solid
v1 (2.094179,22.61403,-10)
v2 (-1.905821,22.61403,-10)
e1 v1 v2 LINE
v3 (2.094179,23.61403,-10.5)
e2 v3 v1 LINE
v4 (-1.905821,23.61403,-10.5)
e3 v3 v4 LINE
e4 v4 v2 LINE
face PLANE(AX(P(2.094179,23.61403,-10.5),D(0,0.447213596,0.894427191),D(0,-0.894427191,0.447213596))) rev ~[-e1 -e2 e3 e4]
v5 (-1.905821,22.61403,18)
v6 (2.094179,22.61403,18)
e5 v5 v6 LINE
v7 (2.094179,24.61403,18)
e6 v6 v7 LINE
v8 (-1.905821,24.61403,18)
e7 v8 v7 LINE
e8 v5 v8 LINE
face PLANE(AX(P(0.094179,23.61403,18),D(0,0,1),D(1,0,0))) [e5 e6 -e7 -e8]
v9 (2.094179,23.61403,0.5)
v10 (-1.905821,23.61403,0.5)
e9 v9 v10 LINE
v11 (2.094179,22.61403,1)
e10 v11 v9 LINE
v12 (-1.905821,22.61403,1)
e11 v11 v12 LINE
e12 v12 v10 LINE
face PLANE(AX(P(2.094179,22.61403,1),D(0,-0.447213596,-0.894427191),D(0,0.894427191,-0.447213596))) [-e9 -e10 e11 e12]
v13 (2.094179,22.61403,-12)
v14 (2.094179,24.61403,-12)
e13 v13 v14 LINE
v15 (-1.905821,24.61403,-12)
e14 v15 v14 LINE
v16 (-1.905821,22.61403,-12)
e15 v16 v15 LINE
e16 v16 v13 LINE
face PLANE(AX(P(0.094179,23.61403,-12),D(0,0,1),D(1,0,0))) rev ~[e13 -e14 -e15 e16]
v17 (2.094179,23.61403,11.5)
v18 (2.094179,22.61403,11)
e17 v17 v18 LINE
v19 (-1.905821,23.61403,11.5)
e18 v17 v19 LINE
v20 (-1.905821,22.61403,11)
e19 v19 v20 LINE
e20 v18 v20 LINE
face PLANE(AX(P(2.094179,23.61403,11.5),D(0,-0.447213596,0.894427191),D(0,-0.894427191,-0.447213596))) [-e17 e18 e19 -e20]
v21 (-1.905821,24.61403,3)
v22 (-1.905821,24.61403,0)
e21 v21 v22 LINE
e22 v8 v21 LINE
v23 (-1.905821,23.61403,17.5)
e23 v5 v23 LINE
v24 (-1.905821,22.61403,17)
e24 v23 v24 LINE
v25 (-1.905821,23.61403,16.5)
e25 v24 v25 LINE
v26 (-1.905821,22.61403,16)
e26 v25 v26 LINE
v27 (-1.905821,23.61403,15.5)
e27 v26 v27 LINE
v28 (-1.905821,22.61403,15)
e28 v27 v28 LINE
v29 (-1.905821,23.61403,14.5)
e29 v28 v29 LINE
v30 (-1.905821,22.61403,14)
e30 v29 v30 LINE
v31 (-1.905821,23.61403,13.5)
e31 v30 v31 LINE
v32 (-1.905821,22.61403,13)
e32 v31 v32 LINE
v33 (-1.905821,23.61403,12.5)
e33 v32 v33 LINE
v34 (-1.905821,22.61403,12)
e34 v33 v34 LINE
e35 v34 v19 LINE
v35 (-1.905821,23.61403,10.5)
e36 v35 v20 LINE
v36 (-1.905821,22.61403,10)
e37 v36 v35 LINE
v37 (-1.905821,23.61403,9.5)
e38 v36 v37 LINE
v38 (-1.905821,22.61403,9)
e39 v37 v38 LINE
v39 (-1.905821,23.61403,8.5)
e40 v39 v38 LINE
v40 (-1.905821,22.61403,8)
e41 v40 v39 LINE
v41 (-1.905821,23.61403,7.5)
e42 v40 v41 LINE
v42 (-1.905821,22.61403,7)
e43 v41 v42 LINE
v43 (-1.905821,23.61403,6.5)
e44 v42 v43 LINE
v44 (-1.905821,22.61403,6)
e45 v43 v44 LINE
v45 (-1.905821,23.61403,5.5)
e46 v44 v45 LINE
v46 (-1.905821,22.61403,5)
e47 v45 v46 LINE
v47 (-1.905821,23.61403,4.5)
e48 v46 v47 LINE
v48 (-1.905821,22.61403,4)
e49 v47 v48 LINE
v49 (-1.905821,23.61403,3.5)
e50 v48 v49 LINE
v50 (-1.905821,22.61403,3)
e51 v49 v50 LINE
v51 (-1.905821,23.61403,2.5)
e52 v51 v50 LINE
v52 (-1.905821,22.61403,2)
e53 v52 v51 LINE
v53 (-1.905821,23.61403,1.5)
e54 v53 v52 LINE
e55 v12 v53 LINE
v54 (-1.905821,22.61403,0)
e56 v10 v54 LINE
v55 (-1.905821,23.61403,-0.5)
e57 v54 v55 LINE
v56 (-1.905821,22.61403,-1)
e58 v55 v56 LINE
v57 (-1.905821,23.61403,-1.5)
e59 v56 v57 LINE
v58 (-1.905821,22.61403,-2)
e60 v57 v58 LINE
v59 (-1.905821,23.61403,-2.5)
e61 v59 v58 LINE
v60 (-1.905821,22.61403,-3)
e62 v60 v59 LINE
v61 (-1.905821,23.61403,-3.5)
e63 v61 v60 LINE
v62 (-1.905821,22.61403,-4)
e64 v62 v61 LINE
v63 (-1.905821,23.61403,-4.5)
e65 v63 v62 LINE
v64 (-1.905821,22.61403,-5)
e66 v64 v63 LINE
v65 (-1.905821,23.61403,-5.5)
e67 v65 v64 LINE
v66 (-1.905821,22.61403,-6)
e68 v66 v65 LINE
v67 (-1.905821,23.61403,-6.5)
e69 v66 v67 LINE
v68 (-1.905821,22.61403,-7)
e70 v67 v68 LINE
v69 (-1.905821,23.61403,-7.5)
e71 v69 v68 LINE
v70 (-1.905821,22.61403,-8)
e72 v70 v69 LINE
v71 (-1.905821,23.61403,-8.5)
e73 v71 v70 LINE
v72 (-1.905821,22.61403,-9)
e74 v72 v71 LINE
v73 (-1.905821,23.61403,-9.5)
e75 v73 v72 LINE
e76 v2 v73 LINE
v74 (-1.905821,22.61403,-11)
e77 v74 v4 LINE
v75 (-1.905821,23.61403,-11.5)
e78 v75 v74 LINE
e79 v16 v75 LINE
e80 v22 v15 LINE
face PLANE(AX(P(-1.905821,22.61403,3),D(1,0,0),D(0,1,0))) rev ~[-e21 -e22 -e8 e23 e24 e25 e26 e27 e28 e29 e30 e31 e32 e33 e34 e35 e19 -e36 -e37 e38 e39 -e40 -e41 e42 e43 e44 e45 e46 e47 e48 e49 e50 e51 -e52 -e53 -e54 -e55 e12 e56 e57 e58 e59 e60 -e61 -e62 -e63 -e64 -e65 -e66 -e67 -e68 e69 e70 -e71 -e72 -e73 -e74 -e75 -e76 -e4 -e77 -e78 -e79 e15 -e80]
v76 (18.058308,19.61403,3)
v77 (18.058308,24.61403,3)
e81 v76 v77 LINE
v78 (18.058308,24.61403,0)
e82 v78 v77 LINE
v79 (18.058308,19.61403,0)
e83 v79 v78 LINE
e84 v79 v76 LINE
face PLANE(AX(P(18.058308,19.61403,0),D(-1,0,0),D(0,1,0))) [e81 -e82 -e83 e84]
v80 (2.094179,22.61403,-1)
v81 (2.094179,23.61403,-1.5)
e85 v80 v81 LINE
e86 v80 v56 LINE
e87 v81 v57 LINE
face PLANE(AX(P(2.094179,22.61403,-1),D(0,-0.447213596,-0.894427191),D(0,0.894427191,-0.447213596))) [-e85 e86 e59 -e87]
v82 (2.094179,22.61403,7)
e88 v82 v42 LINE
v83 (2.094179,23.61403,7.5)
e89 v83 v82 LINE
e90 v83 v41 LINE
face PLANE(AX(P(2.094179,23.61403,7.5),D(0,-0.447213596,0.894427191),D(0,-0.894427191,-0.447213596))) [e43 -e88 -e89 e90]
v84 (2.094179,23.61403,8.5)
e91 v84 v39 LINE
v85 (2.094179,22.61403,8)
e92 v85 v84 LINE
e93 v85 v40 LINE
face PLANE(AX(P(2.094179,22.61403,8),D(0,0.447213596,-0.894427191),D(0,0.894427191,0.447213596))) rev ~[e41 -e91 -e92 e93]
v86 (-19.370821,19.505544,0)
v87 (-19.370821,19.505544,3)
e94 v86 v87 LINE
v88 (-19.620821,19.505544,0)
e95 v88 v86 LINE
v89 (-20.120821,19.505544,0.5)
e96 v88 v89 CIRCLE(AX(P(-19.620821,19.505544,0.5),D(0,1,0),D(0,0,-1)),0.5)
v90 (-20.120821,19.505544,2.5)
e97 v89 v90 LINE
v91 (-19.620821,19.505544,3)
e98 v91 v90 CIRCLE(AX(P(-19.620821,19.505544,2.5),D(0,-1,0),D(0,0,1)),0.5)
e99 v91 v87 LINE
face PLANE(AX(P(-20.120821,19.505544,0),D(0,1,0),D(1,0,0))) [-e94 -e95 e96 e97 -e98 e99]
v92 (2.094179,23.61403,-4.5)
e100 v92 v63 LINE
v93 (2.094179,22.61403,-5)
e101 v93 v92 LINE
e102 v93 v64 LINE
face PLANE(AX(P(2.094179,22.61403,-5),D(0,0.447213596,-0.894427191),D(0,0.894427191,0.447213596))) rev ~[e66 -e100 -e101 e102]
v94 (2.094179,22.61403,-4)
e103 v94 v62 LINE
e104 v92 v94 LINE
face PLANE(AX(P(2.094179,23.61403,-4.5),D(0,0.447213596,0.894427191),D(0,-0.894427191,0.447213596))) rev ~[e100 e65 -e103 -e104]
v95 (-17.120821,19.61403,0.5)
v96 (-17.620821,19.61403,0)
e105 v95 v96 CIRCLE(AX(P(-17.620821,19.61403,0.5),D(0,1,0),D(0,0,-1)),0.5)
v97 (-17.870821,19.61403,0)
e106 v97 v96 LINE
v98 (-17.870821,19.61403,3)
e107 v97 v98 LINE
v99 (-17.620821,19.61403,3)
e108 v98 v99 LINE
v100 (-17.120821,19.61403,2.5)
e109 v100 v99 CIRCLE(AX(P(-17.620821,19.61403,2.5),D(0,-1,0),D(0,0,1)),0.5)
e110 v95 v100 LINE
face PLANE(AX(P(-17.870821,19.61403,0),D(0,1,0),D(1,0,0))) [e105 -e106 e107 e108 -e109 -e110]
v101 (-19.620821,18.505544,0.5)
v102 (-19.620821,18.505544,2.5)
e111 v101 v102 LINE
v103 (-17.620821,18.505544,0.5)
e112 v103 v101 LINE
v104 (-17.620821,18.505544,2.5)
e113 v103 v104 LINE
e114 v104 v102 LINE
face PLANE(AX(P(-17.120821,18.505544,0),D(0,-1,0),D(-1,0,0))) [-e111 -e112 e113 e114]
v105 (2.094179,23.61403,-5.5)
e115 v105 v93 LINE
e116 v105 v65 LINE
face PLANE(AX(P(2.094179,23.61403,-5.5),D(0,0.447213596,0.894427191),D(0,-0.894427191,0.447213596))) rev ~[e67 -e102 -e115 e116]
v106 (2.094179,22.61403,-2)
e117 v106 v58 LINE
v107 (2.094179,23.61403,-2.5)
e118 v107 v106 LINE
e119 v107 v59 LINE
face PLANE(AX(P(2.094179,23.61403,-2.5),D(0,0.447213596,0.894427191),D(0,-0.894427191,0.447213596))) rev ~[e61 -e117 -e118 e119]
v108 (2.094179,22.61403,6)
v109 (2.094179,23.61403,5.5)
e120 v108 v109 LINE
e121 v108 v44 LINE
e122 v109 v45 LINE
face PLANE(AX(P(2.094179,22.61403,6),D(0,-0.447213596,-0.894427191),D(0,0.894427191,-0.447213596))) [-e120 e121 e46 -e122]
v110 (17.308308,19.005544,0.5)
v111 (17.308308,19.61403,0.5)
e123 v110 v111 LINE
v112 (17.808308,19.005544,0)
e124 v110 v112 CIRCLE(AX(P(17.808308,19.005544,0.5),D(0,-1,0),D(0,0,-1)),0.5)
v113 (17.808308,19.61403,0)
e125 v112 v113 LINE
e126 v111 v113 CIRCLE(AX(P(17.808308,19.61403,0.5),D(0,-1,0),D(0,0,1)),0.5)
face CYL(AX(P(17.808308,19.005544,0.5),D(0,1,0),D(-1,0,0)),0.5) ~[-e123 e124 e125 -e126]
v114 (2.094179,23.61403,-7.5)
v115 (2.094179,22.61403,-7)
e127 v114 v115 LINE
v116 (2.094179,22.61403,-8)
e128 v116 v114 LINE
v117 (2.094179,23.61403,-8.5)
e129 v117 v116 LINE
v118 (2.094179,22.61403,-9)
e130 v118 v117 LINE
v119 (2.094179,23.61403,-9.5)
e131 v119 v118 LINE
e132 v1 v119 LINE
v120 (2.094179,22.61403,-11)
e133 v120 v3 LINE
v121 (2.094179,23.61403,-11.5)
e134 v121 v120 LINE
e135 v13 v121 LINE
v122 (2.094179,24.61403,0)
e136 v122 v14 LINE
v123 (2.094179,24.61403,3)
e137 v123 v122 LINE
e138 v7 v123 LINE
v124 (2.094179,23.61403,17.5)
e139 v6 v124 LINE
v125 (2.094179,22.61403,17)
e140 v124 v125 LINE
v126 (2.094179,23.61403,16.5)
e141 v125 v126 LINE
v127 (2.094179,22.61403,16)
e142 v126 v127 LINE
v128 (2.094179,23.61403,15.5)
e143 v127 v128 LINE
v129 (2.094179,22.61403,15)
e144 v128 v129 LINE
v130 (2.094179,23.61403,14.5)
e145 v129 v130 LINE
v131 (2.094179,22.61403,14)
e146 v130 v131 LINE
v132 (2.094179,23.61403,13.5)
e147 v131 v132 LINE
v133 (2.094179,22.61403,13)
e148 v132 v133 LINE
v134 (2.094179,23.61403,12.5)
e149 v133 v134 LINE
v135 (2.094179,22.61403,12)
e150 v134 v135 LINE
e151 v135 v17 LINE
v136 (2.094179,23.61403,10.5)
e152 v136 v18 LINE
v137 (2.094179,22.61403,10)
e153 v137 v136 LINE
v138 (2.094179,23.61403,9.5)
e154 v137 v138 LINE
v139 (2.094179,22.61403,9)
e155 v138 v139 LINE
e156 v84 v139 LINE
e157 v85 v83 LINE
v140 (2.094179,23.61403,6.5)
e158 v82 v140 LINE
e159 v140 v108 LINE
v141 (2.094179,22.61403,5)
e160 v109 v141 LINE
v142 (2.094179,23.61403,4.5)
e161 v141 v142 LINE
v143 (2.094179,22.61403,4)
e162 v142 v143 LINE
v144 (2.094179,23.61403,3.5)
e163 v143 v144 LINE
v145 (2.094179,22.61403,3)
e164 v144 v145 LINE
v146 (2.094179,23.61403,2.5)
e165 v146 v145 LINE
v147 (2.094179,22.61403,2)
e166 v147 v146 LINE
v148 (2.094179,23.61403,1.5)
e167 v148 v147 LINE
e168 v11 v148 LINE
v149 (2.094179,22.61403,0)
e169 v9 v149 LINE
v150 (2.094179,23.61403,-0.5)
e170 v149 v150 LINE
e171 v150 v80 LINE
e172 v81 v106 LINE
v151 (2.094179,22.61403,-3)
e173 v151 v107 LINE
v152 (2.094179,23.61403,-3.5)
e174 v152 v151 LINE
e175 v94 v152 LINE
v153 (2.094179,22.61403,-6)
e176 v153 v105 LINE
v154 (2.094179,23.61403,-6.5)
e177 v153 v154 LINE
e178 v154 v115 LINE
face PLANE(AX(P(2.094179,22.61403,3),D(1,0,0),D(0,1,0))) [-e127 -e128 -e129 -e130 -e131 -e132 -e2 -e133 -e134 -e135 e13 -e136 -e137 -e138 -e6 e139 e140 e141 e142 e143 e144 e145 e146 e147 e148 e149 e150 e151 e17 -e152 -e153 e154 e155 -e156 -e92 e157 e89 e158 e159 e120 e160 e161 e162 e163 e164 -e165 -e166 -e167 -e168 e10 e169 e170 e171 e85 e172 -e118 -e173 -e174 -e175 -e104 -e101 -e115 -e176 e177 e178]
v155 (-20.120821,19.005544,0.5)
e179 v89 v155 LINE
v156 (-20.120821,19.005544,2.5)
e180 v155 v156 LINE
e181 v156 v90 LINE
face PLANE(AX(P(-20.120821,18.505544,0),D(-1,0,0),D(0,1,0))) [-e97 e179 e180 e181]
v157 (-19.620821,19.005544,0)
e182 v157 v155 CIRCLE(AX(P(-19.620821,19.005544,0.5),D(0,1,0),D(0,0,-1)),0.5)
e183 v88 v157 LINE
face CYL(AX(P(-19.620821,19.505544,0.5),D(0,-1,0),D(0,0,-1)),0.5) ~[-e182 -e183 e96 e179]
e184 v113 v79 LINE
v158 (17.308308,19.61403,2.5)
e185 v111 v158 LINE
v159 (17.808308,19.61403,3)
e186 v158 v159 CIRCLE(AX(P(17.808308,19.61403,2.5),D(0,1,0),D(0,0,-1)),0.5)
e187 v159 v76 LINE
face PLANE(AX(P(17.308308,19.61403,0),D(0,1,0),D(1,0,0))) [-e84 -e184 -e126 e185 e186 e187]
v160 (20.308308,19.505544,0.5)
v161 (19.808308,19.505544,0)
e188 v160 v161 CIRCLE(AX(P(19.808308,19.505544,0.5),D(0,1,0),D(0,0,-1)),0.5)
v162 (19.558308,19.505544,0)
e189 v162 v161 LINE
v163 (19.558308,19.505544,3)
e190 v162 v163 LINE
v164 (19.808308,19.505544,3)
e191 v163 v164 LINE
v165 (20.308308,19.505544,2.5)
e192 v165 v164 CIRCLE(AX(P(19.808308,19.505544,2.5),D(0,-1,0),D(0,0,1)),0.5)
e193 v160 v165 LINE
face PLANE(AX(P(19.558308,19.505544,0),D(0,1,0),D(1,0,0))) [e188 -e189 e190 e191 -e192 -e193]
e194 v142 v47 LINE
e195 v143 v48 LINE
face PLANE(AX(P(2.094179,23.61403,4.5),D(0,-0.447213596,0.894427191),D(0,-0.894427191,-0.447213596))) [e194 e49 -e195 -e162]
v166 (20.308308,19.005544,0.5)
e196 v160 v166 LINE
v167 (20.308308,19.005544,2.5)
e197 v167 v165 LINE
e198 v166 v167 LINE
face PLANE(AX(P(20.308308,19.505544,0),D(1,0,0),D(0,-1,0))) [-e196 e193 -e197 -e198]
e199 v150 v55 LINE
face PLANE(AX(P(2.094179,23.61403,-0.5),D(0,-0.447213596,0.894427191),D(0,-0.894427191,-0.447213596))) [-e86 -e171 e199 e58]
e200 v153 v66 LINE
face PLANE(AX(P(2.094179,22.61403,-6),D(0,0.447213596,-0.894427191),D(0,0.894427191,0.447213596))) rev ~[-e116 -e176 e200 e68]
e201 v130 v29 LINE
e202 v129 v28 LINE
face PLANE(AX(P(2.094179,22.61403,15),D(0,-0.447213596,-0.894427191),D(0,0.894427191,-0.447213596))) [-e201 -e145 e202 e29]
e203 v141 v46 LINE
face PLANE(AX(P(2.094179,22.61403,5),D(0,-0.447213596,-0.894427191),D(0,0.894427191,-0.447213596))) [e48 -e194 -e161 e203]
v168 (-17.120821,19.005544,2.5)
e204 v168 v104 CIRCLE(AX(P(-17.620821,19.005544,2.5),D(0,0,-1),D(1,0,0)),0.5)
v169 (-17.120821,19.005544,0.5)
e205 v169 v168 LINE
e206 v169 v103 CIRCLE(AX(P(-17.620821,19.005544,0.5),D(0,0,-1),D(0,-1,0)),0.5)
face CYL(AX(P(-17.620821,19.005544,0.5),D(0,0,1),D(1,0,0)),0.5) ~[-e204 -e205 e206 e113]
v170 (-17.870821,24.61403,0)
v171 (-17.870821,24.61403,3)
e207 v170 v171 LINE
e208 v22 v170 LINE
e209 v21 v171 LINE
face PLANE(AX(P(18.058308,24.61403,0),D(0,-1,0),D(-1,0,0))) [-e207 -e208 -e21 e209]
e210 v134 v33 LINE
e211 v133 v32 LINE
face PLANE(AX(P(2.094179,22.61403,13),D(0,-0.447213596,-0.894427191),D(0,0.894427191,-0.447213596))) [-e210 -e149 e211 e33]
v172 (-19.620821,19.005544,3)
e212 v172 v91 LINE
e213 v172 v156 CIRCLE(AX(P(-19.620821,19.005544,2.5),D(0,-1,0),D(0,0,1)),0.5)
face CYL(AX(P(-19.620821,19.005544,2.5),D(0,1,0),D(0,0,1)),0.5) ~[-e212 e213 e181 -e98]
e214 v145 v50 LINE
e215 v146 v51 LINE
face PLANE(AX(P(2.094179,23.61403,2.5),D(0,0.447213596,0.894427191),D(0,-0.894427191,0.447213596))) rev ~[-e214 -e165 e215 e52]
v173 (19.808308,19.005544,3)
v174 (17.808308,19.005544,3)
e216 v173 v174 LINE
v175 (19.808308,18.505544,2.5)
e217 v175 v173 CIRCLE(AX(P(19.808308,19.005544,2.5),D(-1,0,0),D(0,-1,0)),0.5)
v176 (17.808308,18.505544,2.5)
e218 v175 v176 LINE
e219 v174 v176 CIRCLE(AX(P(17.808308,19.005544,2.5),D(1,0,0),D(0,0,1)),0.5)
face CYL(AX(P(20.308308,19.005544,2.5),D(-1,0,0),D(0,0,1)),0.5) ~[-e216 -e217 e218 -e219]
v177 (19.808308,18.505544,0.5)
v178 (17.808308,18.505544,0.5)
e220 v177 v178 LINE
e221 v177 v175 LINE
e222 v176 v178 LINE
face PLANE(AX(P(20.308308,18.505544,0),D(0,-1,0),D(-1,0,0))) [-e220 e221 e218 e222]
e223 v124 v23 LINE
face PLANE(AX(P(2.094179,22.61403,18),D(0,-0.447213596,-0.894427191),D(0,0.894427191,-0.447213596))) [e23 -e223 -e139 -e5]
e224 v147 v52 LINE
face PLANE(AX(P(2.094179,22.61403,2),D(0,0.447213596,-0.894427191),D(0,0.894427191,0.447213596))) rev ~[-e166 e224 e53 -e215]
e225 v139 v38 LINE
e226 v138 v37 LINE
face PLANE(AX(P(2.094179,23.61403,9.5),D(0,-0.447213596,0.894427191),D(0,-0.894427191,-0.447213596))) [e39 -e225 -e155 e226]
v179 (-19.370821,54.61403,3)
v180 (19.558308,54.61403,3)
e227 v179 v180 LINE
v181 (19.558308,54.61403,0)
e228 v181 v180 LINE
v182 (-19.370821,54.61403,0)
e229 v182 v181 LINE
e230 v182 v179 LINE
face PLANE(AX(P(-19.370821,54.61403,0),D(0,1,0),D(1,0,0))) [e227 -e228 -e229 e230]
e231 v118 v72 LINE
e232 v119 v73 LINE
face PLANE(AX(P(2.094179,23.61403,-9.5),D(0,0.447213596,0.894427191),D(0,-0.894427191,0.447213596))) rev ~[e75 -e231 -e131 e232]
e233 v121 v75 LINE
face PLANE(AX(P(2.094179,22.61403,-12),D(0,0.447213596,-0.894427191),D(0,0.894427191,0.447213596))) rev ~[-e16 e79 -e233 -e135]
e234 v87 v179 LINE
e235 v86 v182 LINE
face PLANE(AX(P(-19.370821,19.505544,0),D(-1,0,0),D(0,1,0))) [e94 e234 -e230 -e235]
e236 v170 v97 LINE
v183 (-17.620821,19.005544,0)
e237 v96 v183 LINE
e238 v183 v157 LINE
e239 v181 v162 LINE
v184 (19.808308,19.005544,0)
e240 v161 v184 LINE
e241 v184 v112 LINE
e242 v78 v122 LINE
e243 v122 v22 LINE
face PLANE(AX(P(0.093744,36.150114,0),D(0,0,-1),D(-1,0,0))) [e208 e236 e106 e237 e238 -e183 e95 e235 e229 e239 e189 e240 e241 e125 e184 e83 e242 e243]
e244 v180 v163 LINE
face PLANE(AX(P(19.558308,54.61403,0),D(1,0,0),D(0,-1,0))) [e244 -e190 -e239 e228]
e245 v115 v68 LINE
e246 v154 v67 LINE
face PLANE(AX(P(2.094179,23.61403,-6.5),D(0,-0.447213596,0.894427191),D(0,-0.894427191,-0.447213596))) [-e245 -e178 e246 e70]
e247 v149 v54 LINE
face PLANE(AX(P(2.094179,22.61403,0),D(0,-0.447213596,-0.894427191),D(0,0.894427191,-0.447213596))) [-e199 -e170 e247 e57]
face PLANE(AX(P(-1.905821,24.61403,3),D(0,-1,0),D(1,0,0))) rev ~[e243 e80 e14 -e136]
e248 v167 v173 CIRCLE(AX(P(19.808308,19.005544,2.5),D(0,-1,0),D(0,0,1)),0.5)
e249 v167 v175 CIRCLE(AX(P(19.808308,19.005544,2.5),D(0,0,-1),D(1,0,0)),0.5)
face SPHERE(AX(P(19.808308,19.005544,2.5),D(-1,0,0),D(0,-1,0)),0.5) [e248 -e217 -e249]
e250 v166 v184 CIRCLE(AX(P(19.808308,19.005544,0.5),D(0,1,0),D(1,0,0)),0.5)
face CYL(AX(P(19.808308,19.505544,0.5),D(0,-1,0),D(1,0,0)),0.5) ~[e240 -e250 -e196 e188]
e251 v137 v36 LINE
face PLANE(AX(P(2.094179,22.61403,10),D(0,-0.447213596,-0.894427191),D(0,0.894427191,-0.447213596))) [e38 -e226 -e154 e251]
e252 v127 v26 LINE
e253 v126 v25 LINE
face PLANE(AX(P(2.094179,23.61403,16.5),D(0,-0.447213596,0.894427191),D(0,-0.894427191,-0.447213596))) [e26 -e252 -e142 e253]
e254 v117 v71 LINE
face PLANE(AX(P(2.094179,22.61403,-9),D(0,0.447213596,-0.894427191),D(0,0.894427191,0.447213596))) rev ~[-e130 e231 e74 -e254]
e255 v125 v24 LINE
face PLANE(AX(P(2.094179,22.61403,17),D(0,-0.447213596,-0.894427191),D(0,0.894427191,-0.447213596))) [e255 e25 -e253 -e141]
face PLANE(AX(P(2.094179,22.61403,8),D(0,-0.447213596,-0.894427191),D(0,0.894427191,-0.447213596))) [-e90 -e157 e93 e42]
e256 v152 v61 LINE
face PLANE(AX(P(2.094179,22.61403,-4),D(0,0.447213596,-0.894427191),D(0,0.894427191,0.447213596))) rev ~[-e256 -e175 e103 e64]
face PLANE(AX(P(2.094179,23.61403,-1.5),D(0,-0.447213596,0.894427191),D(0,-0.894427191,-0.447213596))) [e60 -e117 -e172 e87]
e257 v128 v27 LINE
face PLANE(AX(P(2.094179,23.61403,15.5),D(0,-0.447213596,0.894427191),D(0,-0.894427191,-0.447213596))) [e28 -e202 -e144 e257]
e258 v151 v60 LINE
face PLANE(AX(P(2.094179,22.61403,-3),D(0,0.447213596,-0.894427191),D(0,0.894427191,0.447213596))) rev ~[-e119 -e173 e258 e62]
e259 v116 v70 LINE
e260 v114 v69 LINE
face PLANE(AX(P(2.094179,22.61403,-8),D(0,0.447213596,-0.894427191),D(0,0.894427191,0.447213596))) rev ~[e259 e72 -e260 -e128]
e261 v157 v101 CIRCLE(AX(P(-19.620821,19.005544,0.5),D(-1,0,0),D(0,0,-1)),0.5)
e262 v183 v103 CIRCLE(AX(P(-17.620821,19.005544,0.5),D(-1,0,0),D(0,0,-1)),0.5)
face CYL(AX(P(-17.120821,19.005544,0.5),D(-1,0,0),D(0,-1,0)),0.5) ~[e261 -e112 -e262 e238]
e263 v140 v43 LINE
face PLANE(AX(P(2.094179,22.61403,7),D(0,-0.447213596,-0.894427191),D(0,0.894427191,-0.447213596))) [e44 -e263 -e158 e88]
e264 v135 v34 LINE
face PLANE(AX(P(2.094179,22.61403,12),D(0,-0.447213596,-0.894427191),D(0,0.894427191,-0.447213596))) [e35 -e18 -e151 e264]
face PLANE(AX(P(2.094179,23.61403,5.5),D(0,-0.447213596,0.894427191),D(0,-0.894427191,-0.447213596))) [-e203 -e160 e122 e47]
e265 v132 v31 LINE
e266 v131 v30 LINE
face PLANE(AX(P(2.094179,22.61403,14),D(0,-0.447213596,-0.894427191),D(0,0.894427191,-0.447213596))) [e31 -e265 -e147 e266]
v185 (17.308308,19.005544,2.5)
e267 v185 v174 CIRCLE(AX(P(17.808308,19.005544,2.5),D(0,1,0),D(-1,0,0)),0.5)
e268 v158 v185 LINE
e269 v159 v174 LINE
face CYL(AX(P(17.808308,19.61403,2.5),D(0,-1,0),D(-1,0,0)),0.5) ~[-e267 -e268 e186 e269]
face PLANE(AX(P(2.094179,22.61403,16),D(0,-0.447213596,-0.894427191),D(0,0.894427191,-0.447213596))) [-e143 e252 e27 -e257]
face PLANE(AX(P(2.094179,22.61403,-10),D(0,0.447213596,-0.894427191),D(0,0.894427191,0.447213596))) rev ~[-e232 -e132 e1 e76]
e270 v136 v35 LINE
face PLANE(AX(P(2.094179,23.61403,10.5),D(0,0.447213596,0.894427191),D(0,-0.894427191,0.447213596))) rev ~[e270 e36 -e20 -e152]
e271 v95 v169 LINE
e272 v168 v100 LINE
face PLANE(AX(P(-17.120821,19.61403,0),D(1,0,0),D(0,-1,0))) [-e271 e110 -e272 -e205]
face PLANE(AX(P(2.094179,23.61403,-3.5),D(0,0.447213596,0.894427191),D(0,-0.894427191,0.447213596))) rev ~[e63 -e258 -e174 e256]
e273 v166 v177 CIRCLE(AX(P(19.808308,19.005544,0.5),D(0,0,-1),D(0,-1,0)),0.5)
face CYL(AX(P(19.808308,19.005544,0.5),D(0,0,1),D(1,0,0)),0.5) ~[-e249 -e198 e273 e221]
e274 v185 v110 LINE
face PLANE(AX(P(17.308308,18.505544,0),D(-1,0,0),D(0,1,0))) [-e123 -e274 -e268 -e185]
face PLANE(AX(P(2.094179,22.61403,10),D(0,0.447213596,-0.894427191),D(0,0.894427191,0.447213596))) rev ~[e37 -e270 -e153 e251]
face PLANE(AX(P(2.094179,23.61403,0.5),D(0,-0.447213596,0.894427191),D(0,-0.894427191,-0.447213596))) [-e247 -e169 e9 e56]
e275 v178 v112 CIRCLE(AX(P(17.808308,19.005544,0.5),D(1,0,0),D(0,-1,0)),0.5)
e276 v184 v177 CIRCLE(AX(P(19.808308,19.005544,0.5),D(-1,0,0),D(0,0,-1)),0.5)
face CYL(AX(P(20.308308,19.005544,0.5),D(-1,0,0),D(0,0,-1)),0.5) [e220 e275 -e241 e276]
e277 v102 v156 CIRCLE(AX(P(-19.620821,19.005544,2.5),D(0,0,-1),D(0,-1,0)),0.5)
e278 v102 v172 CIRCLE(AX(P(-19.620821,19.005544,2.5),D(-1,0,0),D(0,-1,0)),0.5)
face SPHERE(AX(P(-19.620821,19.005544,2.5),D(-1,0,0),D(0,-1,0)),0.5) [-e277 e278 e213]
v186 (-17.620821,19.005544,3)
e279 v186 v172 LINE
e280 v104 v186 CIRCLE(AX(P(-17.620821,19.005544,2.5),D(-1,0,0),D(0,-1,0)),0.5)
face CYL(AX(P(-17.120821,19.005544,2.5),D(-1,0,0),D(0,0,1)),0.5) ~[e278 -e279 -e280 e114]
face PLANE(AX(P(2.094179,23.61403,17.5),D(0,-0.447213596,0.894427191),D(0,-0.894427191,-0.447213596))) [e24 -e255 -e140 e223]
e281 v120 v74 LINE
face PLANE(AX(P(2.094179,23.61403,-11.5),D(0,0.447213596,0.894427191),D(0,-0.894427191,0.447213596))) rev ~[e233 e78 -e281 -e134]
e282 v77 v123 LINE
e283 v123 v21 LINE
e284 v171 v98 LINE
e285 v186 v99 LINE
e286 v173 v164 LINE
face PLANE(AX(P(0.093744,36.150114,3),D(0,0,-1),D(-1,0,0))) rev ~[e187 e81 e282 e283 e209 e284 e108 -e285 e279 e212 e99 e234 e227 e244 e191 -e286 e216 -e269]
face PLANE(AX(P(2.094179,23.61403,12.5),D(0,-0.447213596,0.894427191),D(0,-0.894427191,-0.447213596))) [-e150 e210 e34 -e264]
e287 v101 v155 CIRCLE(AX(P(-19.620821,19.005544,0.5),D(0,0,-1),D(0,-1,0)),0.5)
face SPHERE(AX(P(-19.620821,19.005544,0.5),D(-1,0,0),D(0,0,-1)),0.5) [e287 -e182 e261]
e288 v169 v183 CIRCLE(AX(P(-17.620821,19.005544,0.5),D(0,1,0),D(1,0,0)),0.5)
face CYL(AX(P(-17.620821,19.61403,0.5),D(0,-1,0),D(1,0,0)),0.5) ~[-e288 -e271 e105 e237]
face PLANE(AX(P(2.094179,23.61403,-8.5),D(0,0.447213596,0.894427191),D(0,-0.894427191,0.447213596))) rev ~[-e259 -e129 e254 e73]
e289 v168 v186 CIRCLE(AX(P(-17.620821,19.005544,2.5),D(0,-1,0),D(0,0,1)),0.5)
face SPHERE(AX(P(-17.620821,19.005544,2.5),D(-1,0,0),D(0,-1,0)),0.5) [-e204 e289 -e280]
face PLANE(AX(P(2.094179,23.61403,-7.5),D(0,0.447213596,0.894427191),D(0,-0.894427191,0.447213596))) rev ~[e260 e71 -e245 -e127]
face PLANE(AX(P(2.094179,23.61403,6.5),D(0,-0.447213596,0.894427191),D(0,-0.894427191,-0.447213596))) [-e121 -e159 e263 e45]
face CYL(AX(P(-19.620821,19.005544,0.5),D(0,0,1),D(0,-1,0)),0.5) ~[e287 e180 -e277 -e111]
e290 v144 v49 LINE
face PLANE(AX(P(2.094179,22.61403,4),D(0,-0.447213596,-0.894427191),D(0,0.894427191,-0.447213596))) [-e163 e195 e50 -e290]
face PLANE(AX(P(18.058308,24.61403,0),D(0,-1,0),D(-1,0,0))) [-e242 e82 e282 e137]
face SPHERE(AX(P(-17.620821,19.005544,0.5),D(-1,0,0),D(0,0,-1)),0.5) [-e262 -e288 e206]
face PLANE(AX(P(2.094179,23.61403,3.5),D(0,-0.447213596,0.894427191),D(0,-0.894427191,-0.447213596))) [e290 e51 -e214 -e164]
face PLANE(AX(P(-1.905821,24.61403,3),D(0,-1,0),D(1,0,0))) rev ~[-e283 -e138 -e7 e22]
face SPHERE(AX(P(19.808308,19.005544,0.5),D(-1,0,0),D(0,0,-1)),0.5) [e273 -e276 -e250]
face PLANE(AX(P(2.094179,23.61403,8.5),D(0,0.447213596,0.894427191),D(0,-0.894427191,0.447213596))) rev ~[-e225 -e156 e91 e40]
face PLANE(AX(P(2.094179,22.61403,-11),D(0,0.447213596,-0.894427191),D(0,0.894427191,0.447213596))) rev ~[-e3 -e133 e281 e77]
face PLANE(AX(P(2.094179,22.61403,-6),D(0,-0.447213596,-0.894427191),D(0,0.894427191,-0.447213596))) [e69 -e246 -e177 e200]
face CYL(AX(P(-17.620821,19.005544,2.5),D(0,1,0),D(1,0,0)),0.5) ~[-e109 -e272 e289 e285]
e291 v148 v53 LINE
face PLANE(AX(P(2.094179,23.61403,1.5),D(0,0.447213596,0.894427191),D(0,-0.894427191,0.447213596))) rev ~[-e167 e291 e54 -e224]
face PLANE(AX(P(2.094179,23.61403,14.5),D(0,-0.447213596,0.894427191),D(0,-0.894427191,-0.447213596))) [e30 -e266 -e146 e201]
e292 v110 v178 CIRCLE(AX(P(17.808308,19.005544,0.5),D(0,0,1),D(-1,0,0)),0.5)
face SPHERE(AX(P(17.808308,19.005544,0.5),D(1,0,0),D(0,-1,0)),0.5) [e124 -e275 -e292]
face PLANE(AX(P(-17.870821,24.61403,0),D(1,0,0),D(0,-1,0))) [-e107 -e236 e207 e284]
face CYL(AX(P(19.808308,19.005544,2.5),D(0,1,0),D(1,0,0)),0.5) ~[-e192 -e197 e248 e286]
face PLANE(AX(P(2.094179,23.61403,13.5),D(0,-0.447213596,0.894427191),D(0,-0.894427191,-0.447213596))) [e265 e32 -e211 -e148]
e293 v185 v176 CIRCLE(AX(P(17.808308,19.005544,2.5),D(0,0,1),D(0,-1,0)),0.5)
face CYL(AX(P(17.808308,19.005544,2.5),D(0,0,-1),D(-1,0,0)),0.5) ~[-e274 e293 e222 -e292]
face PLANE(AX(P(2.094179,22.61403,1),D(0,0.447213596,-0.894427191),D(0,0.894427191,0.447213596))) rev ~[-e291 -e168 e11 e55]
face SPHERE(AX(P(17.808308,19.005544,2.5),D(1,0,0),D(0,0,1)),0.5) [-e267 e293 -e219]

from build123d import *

# Parameters (mm, degrees)
Y_KSEKLIK_EKSTR_ZYON1_DEPTH = 3
IZIM2_W                     = 4
IZIM2_H                     = 2
Y_KSEKLIK_EKSTR_ZYON2_DEPTH = 15
KES_EKSTR_ZYON1_DEPTH       = 15
KES_EKSTR_ZYON2_DEPTH       = 10
RADYUS5_R                   = 0.5
RADYUS6_R                   = 0.5
RADYUS7_R                   = 0.5
RADYUS8_R                   = 0.5


with BuildPart() as part:
    # Çizim1 → Yükseklik-Ekstrüzyon1 (new body)
    with BuildSketch(Plane.XY):
        Polygon((-19.370820864, 54.614030312), (19.558307899, 54.614030312), (19.558307899, 19.505544156), (20.308307899, 19.505544156), (20.308307899, 18.505544156), (17.308307899, 18.505544156), (17.308307899, 19.614030312), (18.058307899, 19.614030312), (18.058307899, 24.614030312), (-17.870820864, 24.614030312), (-17.870820864, 19.614030312), (-17.120820864, 19.614030312), (-17.120820864, 18.505544156), (-20.120820864, 18.505544156), (-20.120820864, 19.505544156), (-19.370820864, 19.505544156), align=None)
    extrude(amount=Y_KSEKLIK_EKSTR_ZYON1_DEPTH)

    # Çizim2 → Yükseklik-Ekstrüzyon2 (add, symmetric)
    with BuildSketch(Plane.XY.offset(3)):
        with Locations((0.094179136, 23.614030312)):
            Rectangle(IZIM2_W, IZIM2_H)
    extrude(amount=Y_KSEKLIK_EKSTR_ZYON2_DEPTH, both=True)

    # Çizim3 → Kes-Ekstrüzyon1 (cut)
    with BuildSketch(Plane(origin=(2.094179136, 0, 0), x_dir=(0, 0, -1), z_dir=(1, 0, 0))):
        Polygon((-3, 22.614030312), (-2, 22.614030312), (-2.5, 23.614030312), align=None)
        Polygon((-2, 22.614030312), (-1, 22.614030312), (-1.5, 23.614030312), align=None)
        Polygon((2, 22.614030312), (3, 22.614030312), (2.5, 23.614030312), align=None)
        Polygon((3, 22.614030312), (4, 22.614030312), (3.5, 23.614030312), align=None)
        Polygon((4, 22.614030312), (5, 22.614030312), (4.5, 23.614030312), align=None)
        Polygon((5, 22.614030312), (6, 22.614030312), (5.5, 23.614030312), align=None)
        Polygon((7, 22.614030312), (8, 22.614030312), (7.5, 23.614030312), align=None)
        Polygon((8, 22.614030312), (9, 22.614030312), (8.5, 23.614030312), align=None)
        Polygon((9, 22.614030312), (10, 22.614030312), (9.5, 23.614030312), align=None)
        Polygon((11, 22.614030312), (10.5, 23.614030312), (10, 22.614030312), align=None)
        Polygon((11.5, 23.614030312), (11, 22.614030312), (12, 22.614030312), align=None)
        Polygon((-0.5, 23.614030312), (0, 22.614030312), (-1, 22.614030312), align=None)
        Polygon((0.5, 23.614030312), (1, 22.614030312), (0, 22.614030312), align=None)
        Polygon((1.5, 23.614030312), (2, 22.614030312), (1, 22.614030312), align=None)
        Polygon((6.5, 23.614030312), (7, 22.614030312), (6, 22.614030312), align=None)
    extrude(amount=-KES_EKSTR_ZYON1_DEPTH, mode=Mode.SUBTRACT)

    # Çizim4 → Kes-Ekstrüzyon2 (cut)
    with BuildSketch(Plane(origin=(2.094179136, 0, 0), x_dir=(0, 0, -1), z_dir=(1, 0, 0))):
        Polygon((-11, 22.614030312), (-10, 22.614030312), (-10.5, 23.614030312), align=None)
        Polygon((-9, 22.614030312), (-8, 22.614030312), (-8.5, 23.614030312), align=None)
        Polygon((-17, 22.614030312), (-18, 22.614030312), (-17.5, 23.614030312), align=None)
        Polygon((-16, 22.614030312), (-17, 22.614030312), (-16.5, 23.614030312), align=None)
        Polygon((-15, 22.614030312), (-16, 22.614030312), (-15.5, 23.614030312), align=None)
        Polygon((-14, 22.614030312), (-15, 22.614030312), (-14.5, 23.614030312), align=None)
        Polygon((-13, 22.614030312), (-14, 22.614030312), (-13.5, 23.614030312), align=None)
        Polygon((-12, 22.614030312), (-13, 22.614030312), (-12.5, 23.614030312), align=None)
        Polygon((-11.5, 23.614030312), (-11, 22.614030312), (-12, 22.614030312), align=None)
        Polygon((-9, 22.614030312), (-10, 22.614030312), (-9.5, 23.614030312), align=None)
        Polygon((-7, 22.614030312), (-8, 22.614030312), (-7.5, 23.614030312), align=None)
        Polygon((-6, 22.614030312), (-7, 22.614030312), (-6.5, 23.614030312), align=None)
        Polygon((-5, 22.614030312), (-6, 22.614030312), (-5.5, 23.614030312), align=None)
        Polygon((-4, 22.614030312), (-5, 22.614030312), (-4.5, 23.614030312), align=None)
        Polygon((-3, 22.614030312), (-4, 22.614030312), (-3.5, 23.614030312), align=None)
        Polygon((-2, 22.614030312), (-3, 22.614030312), (-2.5, 23.614030312), align=None)
        Polygon((-2, 22.614030312), (-1.5, 23.614030312), (-1, 22.614030312), align=None)
        Polygon((0, 22.614030312), (-1, 22.614030312), (-0.5, 23.614030312), align=None)
        Polygon((1, 22.614030312), (0, 22.614030312), (0.5, 23.614030312), align=None)
    extrude(amount=-KES_EKSTR_ZYON2_DEPTH, mode=Mode.SUBTRACT)

    # Radyus5
    radyus5_edges = [part.edges().sort_by_distance(p)[0] for p in [
        (18.808307899, 18.505544156, 0),
        (18.808307899, 18.505544156, 3),
    ]]
    fillet(radyus5_edges, radius=RADYUS5_R)

    # Radyus6
    radyus6_edges = [part.edges().sort_by_distance(p)[0] for p in [
        (-18.620820864, 18.505544156, 3),
        (-18.620820864, 18.505544156, 0),
    ]]
    fillet(radyus6_edges, radius=RADYUS6_R)

    # Radyus7
    radyus7_edges = [part.edges().sort_by_distance(p)[0] for p in [
        (-20.120820864, 19.255544156, 3),
        (-20.120820864, 19.255544156, 0),
        (-17.120820864, 18.505544156, 1.5),
        (-20.120820864, 18.505544156, 1.5),
        (-17.120820864, 19.309787234, 0),
        (-17.120820864, 19.309787234, 3),
        (-17.120820864, 18.651990766, 2.853553391),
        (-17.120820864, 18.651990766, 0.146446609),
        (-20.120820864, 18.651990766, 2.853553391),
        (-20.120820864, 18.651990766, 0.146446609),
    ]]
    fillet(radyus7_edges, radius=RADYUS7_R)

    # Radyus8
    radyus8_edges = [part.edges().sort_by_distance(p)[0] for p in [
        (17.308307899, 19.309787234, 0),
        (17.308307899, 19.309787234, 3),
        (20.308307899, 18.505544156, 1.5),
        (17.308307899, 18.505544156, 1.5),
        (20.308307899, 19.255544156, 0),
        (20.308307899, 19.255544156, 3),
        (20.308307899, 18.651990766, 2.853553391),
        (20.308307899, 18.651990766, 0.146446609),
        (17.308307899, 18.651990766, 2.853553391),
        (17.308307899, 18.651990766, 0.146446609),
    ]]
    fillet(radyus8_edges, radius=RADYUS8_R)


solid = part.part
